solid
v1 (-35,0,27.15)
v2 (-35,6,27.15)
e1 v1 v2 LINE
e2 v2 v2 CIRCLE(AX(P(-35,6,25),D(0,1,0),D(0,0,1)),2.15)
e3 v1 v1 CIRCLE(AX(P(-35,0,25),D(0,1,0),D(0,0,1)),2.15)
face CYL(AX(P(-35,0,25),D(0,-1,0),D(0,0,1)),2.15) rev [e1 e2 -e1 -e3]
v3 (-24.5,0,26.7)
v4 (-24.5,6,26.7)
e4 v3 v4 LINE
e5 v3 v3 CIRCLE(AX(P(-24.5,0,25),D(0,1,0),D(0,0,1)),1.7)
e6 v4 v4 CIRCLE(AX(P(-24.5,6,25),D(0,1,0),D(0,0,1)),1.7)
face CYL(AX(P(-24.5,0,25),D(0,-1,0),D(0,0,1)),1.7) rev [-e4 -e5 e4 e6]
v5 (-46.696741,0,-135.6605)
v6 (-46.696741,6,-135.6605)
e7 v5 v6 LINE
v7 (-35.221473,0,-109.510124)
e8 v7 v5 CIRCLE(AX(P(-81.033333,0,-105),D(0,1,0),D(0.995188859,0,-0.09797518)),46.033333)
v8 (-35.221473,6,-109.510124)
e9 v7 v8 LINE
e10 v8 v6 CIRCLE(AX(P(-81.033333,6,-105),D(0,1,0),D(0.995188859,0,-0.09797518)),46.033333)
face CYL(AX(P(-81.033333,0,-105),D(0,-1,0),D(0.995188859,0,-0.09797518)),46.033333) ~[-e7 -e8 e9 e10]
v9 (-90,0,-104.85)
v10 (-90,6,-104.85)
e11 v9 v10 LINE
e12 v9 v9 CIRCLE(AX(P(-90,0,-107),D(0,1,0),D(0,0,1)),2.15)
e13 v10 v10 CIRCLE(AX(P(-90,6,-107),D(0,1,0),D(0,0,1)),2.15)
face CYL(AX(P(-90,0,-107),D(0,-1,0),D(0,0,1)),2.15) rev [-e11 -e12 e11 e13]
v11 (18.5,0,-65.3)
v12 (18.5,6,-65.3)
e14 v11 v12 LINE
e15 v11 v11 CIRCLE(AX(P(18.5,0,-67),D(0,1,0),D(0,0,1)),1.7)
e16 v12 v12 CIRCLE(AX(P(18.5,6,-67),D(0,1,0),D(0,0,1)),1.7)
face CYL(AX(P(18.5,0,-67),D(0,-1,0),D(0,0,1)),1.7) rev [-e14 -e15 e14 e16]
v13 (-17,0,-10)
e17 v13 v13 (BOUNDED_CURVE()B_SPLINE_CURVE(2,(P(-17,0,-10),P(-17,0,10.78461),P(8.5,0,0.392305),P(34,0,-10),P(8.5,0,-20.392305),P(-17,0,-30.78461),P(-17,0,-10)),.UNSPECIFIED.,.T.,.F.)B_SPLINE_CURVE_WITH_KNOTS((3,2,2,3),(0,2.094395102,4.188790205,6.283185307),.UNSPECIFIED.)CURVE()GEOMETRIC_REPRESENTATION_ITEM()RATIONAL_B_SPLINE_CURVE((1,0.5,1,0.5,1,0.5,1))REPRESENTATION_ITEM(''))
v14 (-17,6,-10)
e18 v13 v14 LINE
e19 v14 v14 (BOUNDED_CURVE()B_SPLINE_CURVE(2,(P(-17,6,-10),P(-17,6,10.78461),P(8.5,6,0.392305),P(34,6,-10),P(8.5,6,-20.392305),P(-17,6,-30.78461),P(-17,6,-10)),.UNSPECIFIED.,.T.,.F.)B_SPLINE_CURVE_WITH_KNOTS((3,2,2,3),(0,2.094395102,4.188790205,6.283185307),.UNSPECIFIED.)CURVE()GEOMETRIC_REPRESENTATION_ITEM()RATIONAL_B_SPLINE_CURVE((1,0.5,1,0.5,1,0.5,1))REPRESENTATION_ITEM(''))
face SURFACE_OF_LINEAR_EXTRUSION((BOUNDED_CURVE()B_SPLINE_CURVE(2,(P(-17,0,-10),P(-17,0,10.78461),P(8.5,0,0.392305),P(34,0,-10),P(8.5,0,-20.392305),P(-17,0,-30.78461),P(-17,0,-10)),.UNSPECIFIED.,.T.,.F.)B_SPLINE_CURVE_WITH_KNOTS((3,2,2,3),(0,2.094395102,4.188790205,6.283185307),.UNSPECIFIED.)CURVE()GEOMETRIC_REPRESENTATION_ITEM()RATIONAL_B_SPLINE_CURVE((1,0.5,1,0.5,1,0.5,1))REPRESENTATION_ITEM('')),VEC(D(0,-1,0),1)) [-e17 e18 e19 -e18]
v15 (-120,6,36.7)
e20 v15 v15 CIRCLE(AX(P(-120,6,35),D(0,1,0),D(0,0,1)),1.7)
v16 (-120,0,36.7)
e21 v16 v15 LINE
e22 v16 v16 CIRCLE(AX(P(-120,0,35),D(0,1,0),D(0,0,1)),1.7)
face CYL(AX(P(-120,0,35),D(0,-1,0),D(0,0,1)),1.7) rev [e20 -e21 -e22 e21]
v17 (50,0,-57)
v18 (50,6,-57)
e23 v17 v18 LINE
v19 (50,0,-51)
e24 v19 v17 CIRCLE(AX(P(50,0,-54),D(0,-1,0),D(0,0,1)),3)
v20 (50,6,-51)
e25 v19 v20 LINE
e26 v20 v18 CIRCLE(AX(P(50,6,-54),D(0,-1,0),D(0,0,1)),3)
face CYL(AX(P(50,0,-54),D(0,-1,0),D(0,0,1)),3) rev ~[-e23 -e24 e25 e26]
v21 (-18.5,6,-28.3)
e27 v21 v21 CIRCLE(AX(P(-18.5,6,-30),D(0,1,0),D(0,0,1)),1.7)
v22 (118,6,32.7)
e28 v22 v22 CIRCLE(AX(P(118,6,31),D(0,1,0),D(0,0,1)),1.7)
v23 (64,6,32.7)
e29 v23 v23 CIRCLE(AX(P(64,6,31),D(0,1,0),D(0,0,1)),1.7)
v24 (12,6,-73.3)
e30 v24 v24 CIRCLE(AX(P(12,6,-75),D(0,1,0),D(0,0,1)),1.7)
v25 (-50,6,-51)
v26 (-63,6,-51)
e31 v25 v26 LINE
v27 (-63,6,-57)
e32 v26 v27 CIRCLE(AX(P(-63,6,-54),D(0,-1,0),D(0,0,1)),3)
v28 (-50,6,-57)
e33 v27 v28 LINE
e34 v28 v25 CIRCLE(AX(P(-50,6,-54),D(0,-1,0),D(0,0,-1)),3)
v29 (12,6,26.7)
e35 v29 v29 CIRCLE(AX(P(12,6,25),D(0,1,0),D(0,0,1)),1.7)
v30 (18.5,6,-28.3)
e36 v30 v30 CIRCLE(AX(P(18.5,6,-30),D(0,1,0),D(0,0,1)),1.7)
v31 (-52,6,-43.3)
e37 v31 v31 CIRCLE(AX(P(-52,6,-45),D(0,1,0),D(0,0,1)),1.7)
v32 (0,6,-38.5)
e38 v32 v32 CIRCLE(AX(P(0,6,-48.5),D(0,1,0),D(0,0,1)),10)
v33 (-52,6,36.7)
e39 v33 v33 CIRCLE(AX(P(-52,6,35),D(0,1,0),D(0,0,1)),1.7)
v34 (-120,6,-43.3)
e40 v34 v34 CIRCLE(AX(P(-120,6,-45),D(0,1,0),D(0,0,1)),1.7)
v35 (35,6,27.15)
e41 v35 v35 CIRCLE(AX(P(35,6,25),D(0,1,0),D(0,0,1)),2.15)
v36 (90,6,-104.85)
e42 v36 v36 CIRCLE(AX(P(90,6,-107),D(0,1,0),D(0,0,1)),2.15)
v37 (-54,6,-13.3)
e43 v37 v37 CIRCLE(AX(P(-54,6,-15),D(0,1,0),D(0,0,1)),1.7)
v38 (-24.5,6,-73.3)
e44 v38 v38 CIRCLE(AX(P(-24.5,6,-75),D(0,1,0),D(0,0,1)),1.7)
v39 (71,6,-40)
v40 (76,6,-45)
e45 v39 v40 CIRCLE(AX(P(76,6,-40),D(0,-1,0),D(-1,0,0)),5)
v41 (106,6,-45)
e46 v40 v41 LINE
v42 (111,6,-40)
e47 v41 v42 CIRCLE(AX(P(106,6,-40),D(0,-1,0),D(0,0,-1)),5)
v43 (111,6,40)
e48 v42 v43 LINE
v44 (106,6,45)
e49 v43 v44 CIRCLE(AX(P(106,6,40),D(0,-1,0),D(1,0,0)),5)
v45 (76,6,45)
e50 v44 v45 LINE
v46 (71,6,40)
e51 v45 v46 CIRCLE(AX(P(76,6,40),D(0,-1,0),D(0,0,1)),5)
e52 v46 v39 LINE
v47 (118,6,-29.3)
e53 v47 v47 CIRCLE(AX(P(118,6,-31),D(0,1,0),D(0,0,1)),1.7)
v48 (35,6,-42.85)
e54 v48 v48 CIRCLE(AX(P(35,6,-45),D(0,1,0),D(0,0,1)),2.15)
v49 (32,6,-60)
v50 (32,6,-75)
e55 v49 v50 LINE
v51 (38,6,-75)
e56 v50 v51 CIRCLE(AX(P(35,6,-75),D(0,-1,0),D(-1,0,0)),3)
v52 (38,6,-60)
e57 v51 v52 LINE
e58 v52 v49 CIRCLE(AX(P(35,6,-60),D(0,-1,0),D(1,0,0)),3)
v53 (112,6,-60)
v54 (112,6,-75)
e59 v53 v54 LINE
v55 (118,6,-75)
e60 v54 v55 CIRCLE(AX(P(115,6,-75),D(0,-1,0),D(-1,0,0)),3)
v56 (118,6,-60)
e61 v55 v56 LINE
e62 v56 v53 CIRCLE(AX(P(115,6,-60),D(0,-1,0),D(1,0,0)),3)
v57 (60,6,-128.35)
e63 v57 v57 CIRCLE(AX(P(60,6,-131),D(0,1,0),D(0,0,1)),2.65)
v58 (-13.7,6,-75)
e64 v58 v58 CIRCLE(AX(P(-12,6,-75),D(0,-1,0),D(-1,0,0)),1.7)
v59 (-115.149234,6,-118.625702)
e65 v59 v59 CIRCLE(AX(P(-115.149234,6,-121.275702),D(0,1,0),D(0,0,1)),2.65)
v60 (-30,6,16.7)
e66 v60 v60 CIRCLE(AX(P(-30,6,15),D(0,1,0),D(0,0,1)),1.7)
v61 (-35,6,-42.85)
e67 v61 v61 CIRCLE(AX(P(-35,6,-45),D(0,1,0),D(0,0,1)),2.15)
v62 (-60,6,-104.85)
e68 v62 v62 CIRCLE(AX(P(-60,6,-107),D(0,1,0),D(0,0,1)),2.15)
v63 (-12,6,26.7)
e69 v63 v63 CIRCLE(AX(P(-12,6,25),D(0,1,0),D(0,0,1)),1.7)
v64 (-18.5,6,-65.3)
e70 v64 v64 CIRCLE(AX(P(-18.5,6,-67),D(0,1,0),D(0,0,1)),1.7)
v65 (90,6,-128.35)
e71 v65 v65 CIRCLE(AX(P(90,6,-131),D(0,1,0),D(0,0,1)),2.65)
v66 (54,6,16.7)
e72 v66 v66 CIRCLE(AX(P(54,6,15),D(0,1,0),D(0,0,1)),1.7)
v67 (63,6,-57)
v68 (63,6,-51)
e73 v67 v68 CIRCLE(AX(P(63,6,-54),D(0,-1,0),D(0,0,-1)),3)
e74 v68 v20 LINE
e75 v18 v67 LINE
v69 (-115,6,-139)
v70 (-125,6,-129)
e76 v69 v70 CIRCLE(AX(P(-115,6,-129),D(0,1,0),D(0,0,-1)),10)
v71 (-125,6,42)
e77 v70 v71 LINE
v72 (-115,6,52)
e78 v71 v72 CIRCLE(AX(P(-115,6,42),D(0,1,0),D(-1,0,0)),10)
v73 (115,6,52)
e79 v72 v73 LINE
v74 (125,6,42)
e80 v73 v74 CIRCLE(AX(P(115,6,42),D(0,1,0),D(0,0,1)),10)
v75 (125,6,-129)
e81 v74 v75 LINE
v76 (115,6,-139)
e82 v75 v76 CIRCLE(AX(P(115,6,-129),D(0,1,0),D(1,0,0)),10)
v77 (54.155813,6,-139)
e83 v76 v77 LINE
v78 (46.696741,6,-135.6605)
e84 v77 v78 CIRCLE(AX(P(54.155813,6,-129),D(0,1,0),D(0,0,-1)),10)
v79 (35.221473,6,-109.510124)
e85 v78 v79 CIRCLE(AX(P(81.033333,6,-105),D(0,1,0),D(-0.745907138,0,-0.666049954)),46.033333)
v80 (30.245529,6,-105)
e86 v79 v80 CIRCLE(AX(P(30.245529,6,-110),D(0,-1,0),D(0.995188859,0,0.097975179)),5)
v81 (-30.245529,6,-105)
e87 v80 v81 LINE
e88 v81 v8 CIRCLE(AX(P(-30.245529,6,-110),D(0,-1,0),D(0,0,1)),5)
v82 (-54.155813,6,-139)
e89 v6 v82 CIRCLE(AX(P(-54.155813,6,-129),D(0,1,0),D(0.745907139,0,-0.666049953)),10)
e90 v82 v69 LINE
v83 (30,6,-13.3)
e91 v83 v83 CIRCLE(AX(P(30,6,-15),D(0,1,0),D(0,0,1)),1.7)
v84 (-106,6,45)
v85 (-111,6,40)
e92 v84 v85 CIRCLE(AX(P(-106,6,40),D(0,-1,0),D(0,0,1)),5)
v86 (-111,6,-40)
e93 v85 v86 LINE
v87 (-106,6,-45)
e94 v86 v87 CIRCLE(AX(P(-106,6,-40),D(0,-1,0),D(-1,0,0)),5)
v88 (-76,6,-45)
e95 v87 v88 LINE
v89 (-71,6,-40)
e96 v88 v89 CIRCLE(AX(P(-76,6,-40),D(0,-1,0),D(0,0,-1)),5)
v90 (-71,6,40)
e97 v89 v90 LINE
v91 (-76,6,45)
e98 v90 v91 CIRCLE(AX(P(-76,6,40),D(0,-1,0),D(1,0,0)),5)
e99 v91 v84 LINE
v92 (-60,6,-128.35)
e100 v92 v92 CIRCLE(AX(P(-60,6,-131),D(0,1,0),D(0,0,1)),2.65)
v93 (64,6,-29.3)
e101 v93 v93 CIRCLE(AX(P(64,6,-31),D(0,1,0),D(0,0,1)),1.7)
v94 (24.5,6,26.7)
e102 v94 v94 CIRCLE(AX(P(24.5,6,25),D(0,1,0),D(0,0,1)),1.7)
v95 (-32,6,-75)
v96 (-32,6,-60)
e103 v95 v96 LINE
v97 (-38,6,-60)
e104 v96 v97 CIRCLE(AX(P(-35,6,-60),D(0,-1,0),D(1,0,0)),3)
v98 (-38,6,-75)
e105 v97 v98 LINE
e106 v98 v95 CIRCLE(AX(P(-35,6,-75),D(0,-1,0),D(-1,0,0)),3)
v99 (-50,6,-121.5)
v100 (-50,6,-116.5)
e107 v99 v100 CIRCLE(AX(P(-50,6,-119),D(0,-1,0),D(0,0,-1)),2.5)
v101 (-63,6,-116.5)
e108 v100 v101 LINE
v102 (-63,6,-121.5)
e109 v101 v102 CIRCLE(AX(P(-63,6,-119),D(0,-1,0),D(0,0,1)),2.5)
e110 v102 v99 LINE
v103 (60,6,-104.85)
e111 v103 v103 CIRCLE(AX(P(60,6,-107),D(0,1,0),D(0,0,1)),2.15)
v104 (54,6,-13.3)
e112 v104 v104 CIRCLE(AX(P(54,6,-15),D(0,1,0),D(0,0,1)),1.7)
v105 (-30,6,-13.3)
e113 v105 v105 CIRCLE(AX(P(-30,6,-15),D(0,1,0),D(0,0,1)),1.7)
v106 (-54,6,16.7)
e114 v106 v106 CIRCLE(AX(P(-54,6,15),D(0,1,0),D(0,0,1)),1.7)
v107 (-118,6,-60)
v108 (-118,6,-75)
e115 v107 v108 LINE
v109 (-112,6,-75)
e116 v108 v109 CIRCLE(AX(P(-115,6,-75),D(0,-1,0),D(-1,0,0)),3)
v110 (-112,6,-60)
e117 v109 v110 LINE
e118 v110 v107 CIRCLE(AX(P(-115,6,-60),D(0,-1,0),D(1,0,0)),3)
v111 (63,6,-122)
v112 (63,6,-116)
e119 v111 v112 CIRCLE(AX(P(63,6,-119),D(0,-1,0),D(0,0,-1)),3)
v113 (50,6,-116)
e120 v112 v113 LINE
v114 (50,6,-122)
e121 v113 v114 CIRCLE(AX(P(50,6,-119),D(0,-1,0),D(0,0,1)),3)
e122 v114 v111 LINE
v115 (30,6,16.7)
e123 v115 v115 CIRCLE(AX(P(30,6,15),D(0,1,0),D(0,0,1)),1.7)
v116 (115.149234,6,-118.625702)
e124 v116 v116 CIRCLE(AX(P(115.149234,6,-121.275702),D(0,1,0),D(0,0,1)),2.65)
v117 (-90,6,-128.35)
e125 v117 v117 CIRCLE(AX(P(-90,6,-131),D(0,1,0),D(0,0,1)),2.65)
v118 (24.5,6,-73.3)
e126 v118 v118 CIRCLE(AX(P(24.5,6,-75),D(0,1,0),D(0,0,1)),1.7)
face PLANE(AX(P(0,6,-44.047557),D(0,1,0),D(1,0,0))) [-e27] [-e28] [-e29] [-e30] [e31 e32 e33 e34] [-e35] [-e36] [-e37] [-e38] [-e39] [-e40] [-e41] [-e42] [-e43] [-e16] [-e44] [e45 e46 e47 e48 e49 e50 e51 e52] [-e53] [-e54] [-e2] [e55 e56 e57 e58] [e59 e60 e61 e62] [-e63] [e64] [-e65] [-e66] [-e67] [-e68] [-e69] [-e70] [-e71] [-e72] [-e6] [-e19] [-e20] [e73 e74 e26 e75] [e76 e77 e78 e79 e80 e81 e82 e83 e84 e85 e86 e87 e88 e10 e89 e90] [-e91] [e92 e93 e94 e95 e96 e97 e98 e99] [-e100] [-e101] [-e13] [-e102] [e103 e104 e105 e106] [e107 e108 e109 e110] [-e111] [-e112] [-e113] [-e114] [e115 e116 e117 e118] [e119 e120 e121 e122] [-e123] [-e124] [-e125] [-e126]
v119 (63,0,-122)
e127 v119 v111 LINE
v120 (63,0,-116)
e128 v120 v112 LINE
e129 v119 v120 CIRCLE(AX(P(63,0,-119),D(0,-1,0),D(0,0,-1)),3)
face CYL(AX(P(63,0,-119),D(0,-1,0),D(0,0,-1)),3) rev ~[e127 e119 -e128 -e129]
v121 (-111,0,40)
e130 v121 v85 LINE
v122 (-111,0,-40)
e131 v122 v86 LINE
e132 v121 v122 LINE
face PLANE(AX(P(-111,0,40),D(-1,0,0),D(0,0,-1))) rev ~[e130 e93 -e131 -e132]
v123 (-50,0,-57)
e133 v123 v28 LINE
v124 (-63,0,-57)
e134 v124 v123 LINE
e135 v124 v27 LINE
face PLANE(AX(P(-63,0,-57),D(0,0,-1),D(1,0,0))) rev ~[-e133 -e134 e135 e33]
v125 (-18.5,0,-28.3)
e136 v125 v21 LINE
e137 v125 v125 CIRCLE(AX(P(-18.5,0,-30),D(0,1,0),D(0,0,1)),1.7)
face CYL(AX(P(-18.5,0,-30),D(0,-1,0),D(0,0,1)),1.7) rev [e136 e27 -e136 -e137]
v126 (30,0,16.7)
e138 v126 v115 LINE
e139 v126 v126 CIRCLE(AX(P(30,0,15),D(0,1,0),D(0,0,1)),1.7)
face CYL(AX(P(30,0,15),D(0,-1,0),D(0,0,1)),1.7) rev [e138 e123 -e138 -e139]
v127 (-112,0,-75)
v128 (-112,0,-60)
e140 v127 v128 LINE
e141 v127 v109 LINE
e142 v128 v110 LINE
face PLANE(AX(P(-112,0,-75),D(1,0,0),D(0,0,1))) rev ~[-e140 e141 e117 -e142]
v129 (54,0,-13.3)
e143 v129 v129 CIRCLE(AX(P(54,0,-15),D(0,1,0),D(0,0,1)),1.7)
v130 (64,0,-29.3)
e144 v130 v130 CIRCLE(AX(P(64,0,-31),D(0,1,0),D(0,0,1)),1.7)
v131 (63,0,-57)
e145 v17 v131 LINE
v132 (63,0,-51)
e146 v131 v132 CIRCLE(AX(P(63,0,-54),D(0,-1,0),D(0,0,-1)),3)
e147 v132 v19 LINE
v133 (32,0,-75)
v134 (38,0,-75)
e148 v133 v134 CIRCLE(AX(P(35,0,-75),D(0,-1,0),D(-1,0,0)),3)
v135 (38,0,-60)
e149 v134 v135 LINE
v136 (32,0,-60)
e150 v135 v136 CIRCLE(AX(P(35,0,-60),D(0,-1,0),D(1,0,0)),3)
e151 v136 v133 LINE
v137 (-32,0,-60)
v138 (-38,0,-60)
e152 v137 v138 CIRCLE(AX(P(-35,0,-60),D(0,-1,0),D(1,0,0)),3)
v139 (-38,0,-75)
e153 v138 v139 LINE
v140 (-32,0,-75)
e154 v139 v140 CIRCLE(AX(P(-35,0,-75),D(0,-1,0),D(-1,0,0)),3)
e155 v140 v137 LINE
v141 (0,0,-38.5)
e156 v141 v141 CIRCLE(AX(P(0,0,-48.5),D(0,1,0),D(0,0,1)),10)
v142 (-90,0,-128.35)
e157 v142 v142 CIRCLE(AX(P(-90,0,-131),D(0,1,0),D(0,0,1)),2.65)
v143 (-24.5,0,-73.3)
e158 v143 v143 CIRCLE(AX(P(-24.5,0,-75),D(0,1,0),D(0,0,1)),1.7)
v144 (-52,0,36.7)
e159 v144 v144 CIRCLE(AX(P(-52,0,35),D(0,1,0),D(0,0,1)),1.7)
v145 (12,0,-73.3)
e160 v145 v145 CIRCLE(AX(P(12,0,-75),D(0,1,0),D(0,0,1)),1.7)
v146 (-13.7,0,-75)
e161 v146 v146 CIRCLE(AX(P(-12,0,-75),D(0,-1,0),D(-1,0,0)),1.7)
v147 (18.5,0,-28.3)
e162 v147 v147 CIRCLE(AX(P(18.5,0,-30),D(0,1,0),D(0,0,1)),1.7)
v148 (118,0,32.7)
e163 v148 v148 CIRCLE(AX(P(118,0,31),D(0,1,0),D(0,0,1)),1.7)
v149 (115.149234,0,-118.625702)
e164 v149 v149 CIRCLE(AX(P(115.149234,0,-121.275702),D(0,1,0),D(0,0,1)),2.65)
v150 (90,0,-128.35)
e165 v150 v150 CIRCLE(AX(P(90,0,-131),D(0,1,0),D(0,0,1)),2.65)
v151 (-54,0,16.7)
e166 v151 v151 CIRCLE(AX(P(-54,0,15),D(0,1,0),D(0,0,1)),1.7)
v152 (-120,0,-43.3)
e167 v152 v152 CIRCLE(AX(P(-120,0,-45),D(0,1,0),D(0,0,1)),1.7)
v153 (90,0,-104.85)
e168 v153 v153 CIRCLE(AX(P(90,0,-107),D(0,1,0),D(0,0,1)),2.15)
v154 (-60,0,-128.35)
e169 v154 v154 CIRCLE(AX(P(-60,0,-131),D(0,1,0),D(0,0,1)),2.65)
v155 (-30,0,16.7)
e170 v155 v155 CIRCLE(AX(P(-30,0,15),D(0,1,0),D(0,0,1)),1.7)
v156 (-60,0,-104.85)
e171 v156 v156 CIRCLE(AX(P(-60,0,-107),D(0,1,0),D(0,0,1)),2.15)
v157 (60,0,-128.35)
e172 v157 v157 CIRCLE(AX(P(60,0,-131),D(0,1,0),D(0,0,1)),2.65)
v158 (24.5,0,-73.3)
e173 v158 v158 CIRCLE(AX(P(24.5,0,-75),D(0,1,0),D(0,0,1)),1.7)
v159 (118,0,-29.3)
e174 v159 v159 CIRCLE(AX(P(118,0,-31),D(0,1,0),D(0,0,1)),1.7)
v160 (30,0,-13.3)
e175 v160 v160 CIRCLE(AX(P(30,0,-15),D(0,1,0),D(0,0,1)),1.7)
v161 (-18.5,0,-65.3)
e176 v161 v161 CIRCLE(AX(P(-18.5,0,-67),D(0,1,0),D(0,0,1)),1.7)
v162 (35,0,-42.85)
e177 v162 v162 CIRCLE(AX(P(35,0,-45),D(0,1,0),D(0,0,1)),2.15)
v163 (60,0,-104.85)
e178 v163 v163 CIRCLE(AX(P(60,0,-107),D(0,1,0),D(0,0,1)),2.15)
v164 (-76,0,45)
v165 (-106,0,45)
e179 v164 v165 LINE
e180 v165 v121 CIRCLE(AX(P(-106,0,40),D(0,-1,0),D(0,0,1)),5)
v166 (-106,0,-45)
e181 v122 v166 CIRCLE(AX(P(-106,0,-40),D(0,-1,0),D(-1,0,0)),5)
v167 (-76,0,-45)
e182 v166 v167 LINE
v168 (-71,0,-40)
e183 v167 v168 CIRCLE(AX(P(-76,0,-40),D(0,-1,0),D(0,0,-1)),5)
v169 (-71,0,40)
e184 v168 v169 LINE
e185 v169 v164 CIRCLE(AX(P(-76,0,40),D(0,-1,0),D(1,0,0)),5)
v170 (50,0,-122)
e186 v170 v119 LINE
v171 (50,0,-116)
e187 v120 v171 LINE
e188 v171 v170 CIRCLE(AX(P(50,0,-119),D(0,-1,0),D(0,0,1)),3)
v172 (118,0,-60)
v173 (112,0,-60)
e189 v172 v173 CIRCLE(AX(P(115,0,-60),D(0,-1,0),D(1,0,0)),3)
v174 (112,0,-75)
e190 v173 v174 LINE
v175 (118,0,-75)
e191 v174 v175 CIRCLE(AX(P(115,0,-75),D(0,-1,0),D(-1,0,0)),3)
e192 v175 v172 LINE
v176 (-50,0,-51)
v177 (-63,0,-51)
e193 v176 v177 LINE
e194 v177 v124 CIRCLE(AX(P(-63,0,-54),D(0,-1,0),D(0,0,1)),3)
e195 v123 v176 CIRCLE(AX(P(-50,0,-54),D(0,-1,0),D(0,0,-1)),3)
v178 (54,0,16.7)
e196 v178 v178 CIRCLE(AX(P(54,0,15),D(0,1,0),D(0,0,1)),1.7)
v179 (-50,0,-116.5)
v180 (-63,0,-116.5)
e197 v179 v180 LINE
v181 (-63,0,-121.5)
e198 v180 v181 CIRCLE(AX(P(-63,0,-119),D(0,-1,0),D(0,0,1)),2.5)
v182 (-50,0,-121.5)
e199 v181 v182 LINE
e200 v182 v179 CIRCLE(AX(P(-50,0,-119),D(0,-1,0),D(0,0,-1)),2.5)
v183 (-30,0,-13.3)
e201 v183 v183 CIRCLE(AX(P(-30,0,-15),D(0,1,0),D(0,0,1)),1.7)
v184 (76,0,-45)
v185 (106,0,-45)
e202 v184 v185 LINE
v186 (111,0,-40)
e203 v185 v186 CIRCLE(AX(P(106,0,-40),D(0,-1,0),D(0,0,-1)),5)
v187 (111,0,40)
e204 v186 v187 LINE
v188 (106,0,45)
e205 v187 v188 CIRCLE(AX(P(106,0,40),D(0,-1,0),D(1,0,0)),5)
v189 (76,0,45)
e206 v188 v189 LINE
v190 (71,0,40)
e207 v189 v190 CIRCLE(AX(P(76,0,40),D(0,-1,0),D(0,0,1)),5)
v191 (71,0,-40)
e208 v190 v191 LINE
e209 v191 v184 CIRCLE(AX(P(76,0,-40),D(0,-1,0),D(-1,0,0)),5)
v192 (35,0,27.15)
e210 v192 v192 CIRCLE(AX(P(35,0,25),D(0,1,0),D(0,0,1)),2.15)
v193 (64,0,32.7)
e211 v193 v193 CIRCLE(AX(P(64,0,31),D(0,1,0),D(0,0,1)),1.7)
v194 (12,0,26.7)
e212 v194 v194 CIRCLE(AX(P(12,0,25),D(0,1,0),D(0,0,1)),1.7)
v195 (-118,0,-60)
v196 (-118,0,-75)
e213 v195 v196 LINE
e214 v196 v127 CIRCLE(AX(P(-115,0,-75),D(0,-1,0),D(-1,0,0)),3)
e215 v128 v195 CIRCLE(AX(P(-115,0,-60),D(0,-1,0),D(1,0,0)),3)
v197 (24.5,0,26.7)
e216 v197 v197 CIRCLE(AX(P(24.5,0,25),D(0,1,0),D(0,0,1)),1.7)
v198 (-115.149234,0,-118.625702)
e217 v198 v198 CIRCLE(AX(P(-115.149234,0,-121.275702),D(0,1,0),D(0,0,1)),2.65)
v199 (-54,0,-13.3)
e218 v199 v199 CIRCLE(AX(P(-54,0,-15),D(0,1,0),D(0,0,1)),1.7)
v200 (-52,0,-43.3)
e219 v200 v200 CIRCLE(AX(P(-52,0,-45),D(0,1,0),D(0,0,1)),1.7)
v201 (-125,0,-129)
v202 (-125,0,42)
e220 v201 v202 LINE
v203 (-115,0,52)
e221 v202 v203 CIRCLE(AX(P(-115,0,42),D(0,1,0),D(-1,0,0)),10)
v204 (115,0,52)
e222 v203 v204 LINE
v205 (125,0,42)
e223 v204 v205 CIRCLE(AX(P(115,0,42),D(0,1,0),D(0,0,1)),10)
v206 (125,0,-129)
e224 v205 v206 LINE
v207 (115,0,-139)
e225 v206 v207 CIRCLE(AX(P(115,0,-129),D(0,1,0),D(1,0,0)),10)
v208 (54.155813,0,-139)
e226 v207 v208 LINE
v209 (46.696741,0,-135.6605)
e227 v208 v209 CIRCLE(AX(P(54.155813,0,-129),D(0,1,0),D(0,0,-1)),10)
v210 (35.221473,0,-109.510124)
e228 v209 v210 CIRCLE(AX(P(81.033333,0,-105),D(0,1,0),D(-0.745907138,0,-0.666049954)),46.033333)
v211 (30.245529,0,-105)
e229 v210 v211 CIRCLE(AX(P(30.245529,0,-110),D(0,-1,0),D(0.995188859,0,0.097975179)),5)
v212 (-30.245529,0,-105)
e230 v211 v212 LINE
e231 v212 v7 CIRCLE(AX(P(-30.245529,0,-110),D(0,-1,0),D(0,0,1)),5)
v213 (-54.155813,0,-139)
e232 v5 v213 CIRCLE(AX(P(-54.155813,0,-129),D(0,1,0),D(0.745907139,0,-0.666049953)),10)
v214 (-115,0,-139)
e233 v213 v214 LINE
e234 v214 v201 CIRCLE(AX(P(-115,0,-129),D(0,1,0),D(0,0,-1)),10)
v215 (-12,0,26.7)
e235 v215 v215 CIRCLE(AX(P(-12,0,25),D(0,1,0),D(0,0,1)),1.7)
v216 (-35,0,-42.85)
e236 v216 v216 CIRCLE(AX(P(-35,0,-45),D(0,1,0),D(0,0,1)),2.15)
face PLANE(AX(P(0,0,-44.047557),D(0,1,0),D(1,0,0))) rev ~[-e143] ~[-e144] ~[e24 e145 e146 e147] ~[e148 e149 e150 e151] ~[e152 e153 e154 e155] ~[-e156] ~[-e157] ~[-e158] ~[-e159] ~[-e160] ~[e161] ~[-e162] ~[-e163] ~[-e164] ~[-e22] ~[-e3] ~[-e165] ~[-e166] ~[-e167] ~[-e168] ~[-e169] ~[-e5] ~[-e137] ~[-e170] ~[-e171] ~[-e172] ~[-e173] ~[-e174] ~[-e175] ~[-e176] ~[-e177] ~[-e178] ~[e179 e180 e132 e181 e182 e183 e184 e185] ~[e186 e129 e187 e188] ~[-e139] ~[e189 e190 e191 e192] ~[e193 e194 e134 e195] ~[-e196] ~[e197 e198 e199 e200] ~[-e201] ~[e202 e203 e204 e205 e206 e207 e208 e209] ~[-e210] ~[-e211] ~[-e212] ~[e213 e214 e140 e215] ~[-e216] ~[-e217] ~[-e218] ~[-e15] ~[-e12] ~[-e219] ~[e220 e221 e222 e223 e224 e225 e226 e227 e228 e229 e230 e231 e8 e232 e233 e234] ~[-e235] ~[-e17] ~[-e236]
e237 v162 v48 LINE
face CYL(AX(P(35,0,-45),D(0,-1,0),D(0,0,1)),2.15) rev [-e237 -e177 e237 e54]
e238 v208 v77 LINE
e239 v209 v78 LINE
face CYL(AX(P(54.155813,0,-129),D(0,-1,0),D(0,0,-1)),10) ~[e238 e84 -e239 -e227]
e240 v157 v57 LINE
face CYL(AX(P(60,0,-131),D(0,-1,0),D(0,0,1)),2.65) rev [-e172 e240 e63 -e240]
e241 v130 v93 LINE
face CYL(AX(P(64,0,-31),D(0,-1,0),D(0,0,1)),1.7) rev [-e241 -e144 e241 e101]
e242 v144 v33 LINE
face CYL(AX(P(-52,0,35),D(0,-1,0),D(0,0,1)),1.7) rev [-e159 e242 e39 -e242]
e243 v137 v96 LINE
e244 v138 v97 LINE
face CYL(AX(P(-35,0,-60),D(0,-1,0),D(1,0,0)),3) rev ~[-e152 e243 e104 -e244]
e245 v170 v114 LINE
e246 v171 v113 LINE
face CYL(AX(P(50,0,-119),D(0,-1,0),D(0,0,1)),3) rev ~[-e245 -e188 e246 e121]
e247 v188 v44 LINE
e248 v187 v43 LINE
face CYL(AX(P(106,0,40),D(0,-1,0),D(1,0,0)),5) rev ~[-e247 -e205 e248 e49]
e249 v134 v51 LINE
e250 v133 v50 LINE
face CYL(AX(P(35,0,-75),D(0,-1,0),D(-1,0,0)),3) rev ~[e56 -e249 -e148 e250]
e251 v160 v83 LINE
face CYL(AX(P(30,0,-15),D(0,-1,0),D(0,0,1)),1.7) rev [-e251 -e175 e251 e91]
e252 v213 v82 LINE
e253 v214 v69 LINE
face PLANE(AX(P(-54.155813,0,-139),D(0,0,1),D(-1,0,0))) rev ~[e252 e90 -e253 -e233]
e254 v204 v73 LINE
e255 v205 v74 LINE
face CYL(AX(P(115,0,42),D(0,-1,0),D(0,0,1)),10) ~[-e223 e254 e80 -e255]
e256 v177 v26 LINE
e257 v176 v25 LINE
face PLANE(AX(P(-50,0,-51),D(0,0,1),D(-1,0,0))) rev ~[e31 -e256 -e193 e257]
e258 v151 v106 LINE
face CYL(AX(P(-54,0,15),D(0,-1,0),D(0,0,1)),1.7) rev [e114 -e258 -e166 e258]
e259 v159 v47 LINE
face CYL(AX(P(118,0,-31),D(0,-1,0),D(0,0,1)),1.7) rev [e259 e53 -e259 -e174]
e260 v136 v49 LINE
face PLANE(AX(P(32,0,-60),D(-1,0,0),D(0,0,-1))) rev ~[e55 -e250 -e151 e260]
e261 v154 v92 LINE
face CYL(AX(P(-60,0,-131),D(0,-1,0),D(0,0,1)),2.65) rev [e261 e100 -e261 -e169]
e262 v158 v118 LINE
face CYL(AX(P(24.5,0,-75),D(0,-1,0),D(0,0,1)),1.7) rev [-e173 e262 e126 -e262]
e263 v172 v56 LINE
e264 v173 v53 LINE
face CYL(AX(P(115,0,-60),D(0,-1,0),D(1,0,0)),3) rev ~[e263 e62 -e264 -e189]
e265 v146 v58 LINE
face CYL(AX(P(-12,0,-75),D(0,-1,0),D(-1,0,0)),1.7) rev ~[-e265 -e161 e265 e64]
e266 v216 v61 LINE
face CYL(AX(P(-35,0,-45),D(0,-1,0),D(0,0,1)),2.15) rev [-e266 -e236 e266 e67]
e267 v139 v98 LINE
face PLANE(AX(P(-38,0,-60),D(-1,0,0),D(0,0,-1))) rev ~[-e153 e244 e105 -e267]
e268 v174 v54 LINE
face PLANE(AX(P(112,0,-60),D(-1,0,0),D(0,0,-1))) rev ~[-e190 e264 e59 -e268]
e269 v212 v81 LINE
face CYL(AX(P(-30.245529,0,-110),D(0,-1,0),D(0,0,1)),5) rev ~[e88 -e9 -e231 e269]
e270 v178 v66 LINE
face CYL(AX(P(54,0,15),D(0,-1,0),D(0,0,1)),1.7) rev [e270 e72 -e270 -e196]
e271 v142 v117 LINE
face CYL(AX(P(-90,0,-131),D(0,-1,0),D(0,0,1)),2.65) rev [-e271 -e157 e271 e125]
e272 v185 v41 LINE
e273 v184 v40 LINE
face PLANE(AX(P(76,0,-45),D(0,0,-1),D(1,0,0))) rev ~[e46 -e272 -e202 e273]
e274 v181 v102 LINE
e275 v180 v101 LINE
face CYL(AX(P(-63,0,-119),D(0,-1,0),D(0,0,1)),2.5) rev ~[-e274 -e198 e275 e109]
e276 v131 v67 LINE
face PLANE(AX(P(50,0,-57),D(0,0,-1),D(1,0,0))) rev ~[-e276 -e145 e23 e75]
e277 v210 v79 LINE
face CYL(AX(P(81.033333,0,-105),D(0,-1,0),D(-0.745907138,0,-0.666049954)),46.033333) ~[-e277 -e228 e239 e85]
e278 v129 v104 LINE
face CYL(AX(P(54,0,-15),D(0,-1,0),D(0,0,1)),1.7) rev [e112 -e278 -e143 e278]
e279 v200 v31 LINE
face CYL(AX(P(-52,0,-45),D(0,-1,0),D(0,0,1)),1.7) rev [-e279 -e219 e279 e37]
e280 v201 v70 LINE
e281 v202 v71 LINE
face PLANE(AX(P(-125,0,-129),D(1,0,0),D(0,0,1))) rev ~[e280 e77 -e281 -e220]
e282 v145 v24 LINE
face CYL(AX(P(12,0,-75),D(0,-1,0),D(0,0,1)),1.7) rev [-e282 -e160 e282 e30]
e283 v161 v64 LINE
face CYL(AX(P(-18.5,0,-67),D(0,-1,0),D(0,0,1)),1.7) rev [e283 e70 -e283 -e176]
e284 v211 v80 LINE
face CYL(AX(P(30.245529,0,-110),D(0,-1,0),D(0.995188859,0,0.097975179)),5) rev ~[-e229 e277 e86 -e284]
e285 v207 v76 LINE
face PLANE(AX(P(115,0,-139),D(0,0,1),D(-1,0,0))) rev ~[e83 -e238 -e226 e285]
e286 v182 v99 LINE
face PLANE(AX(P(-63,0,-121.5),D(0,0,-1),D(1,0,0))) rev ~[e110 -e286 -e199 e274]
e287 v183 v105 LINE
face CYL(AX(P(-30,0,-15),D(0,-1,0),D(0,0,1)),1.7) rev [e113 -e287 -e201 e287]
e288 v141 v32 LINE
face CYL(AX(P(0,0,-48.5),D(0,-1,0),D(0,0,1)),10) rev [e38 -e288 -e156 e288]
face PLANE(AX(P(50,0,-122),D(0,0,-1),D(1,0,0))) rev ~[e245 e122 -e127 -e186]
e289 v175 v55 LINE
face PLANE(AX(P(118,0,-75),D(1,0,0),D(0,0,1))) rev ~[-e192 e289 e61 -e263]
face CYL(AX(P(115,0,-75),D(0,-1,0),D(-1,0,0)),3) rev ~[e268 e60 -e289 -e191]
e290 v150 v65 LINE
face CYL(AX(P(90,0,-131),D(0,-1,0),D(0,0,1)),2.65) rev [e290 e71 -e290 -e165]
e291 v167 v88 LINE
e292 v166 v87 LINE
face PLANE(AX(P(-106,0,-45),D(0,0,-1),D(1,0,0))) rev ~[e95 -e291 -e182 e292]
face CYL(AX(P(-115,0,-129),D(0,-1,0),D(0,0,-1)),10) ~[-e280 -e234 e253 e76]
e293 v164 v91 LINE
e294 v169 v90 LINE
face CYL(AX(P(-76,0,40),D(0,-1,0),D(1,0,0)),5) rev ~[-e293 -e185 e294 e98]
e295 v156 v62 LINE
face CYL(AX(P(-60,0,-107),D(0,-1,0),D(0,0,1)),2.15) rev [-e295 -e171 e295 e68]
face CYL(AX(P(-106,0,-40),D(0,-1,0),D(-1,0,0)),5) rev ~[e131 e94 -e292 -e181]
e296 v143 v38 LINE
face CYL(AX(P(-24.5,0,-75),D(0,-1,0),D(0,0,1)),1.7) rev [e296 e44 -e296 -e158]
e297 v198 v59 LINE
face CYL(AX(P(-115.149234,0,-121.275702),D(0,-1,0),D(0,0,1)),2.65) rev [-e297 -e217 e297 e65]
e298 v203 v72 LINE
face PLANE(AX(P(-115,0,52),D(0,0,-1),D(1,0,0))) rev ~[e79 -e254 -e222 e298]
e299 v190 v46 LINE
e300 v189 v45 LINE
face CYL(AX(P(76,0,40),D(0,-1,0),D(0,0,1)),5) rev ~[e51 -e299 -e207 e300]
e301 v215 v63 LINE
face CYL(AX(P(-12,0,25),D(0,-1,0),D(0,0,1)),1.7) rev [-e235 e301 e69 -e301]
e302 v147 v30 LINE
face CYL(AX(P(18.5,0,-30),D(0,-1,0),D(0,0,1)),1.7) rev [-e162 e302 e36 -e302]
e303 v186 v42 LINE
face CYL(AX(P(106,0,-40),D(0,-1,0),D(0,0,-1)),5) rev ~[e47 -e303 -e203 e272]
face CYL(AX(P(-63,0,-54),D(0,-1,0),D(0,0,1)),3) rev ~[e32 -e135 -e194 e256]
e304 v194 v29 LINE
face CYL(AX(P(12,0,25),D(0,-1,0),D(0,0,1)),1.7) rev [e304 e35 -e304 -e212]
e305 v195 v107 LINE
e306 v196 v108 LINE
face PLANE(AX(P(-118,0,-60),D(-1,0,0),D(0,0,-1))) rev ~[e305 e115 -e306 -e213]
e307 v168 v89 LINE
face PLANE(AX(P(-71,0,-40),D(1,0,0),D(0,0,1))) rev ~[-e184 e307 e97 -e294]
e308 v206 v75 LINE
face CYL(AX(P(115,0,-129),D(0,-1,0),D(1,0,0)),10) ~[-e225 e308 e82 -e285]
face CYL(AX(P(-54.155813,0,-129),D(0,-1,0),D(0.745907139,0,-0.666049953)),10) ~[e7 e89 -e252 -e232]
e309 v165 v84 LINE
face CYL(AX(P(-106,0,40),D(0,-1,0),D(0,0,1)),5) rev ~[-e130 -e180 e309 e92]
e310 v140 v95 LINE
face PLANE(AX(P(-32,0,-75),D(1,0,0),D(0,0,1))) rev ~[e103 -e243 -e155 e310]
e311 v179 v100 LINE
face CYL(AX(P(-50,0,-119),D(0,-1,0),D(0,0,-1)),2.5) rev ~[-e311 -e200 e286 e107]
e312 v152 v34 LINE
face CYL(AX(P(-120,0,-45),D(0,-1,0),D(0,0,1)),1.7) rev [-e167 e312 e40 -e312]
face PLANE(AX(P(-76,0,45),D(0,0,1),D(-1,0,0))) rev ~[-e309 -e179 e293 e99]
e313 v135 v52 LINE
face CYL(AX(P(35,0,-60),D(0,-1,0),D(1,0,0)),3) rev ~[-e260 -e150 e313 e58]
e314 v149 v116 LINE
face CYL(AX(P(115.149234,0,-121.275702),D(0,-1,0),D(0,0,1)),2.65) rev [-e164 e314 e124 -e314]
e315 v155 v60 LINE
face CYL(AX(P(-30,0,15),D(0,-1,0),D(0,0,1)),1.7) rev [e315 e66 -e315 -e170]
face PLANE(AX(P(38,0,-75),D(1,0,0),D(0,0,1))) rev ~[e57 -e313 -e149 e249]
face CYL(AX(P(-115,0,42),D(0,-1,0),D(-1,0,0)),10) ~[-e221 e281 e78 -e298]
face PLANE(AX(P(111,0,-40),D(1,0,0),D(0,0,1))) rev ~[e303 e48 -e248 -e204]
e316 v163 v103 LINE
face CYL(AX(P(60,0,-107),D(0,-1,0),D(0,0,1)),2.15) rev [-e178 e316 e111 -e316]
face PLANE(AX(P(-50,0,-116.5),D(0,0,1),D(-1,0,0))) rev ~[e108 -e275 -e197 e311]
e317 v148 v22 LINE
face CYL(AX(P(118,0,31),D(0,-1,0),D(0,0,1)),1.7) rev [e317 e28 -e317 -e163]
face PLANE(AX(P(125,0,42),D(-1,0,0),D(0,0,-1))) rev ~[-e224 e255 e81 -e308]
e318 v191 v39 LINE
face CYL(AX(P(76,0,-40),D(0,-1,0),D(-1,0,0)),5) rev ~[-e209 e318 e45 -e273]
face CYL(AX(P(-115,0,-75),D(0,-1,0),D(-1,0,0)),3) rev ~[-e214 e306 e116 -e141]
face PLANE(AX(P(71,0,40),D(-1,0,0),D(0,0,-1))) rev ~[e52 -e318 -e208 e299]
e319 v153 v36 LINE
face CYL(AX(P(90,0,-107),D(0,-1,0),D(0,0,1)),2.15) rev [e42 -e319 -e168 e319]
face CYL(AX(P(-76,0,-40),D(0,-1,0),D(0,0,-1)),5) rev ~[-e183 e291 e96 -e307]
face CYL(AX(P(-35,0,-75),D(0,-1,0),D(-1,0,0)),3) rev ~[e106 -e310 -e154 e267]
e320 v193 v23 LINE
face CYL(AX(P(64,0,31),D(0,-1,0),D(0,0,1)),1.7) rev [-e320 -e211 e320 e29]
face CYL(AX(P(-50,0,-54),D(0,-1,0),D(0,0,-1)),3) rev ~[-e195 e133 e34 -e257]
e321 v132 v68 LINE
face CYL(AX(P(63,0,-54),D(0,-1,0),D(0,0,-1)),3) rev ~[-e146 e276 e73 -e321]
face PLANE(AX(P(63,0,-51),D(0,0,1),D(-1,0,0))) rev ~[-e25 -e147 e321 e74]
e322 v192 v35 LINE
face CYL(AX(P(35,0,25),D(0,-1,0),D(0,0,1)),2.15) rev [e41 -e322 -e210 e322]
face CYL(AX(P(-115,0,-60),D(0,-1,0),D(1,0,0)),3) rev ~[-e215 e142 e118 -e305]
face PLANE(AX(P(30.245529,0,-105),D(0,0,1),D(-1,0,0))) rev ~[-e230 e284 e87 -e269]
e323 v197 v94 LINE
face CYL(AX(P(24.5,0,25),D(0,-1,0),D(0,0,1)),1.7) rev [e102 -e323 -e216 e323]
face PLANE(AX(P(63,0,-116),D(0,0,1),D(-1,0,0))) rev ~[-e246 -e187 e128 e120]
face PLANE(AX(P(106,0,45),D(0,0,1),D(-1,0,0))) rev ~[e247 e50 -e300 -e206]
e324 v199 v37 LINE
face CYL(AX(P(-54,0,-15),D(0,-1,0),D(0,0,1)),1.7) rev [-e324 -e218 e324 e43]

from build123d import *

# Parameters (mm, degrees)
SKETCH_1_R      = 1.7
SKETCH_1_R_2    = 2.15
SKETCH_1_R_3    = 2.65
SKETCH_1_R_4    = 10
EXTRUDE_2_DEPTH = 6


with BuildPart() as part:
    # 草图1 → 凸台-拉伸2 (new body)
    with BuildSketch(Plane(origin=(0, 0, 0), x_dir=(1, 0, 0), z_dir=(0, 1, 0))):
        with BuildLine():
            ThreePointArc((-125, -42), (-122.071067812, -49.071067812), (-115, -52))
            Line((-115, -52), (115, -52))
            ThreePointArc((115, -52), (122.071067812, -49.071067812), (125, -42))
            Line((125, -42), (125, 129))
            ThreePointArc((125, 129), (122.071067812, 136.071067812), (115, 139))
            Line((115, 139), (54.15581278, 139))
            ThreePointArc((54.15581278, 139), (50.06955504, 138.127020198), (46.696741396, 135.660499537))
            ThreePointArc((46.696741396, 135.660499537), (38.879992551, 123.497665763), (35.221472878, 109.510124102))
            ThreePointArc((35.221472878, 109.510124102), (33.603401462, 106.295315162), (30.245528585, 105))
            Line((30.245528585, 105), (-30.245528585, 105))
            ThreePointArc((-30.245528585, 105), (-33.603401462, 106.295315162), (-35.221472878, 109.510124102))
            ThreePointArc((-35.221472878, 109.510124102), (-38.879992551, 123.497665763), (-46.696741396, 135.660499537))
            ThreePointArc((-46.696741396, 135.660499537), (-50.06955504, 138.127020198), (-54.15581278, 139))
            Line((-54.15581278, 139), (-115, 139))
            ThreePointArc((-115, 139), (-122.071067812, 136.071067812), (-125, 129))
            Line((-125, 129), (-125, -42))
        make_face()
        with Locations(Location((-120, -35, 0), (0, 0, 270))):
            Circle(SKETCH_1_R, mode=Mode.SUBTRACT)
        with Locations(Location((-52, -35, 0), (0, 0, 270))):
            Circle(SKETCH_1_R, mode=Mode.SUBTRACT)
        with Locations(Location((-35, -25, 0), (0, 0, 270))):
            Circle(SKETCH_1_R_2, mode=Mode.SUBTRACT)
        with Locations(Location((-24.5, -25, 0), (0, 0, 270))):
            Circle(SKETCH_1_R, mode=Mode.SUBTRACT)
        with Locations(Location((-12, -25, 0), (0, 0, 270))):
            Circle(SKETCH_1_R, mode=Mode.SUBTRACT)
        with Locations(Location((-54, -15, 0), (0, 0, 270))):
            Circle(SKETCH_1_R, mode=Mode.SUBTRACT)
        with Locations(Location((-30, -15, 0), (0, 0, 270))):
            Circle(SKETCH_1_R, mode=Mode.SUBTRACT)
        with BuildLine():
            ThreePointArc((-76, 45), (-72.464466094, 43.535533906), (-71, 40))
            Line((-71, 40), (-71, -40))
            ThreePointArc((-71, -40), (-72.464466094, -43.535533906), (-76, -45))
            Line((-76, -45), (-106, -45))
            ThreePointArc((-106, -45), (-109.535533906, -43.535533906), (-111, -40))
            Line((-111, -40), (-111, 40))
            ThreePointArc((-111, 40), (-109.535533906, 43.535533906), (-106, 45))
            Line((-106, 45), (-76, 45))
        make_face(mode=Mode.SUBTRACT)
        with Locations(Location((-54, 15, 0), (0, 0, 270))):
            Circle(SKETCH_1_R, mode=Mode.SUBTRACT)
        with Locations(Location((-30, 15, 0), (0, 0, 270))):
            Circle(SKETCH_1_R, mode=Mode.SUBTRACT)
        with Locations(Location((-18.5, 30, 0), (0, 0, 270))):
            Circle(SKETCH_1_R, mode=Mode.SUBTRACT)
        with Locations(Location((12, -25, 0), (0, 0, 270))):
            Circle(SKETCH_1_R, mode=Mode.SUBTRACT)
        with Locations(Location((24.5, -25, 0), (0, 0, 270))):
            Circle(SKETCH_1_R, mode=Mode.SUBTRACT)
        with Locations(Location((35, -25, 0), (0, 0, 270))):
            Circle(SKETCH_1_R_2, mode=Mode.SUBTRACT)
        with Locations(Location((30, -15, 0), (0, 0, 270))):
            Circle(SKETCH_1_R, mode=Mode.SUBTRACT)
        with Locations(Location((54, -15, 0), (0, 0, 270))):
            Circle(SKETCH_1_R, mode=Mode.SUBTRACT)
        with Locations(Location((64, -31, 0), (0, 0, 270))):
            Circle(SKETCH_1_R, mode=Mode.SUBTRACT)
        with Locations(Location((118, -31, 0), (0, 0, 270))):
            Circle(SKETCH_1_R, mode=Mode.SUBTRACT)
        with BuildLine():
            add(Edge.make_bspline(
                [(-17, 10), (-17, -10.784609691), (8.5, -0.392304845), (34, 10), (8.5, 20.392304845), (-17, 30.784609691), (-17, 10)],
                knots=[0, 0, 0, 2.094395102, 2.094395102, 4.188790205, 4.188790205, 6.283185307, 6.283185307, 6.283185307], degree=2, weights=[1, 0.5, 1, 0.5, 1, 0.5, 1]))
        make_face(mode=Mode.SUBTRACT)
        with Locations(Location((30, 15, 0), (0, 0, 270))):
            Circle(SKETCH_1_R, mode=Mode.SUBTRACT)
        with Locations(Location((54, 15, 0), (0, 0, 270))):
            Circle(SKETCH_1_R, mode=Mode.SUBTRACT)
        with Locations(Location((18.5, 30, 0), (0, 0, 270))):
            Circle(SKETCH_1_R, mode=Mode.SUBTRACT)
        with BuildLine():
            ThreePointArc((76, -45), (72.464466094, -43.535533906), (71, -40))
            Line((71, -40), (71, 40))
            ThreePointArc((71, 40), (72.464466094, 43.535533906), (76, 45))
            Line((76, 45), (106, 45))
            ThreePointArc((106, 45), (109.535533906, 43.535533906), (111, 40))
            Line((111, 40), (111, -40))
            ThreePointArc((111, -40), (109.535533906, -43.535533906), (106, -45))
            Line((106, -45), (76, -45))
        make_face(mode=Mode.SUBTRACT)
        with Locations(Location((64, 31, 0), (0, 0, 270))):
            Circle(SKETCH_1_R, mode=Mode.SUBTRACT)
        with Locations(Location((118, 31, 0), (0, 0, 270))):
            Circle(SKETCH_1_R, mode=Mode.SUBTRACT)
        with Locations(Location((-120, 45, 0), (0, 0, 270))):
            Circle(SKETCH_1_R, mode=Mode.SUBTRACT)
        with BuildLine():
            ThreePointArc((-118, 75), (-115, 78), (-112, 75))
            Line((-112, 75), (-112, 60))
            ThreePointArc((-112, 60), (-115, 57), (-118, 60))
            Line((-118, 60), (-118, 75))
        make_face(mode=Mode.SUBTRACT)
        with Locations(Location((-52, 45, 0), (0, 0, 270))):
            Circle(SKETCH_1_R, mode=Mode.SUBTRACT)
        with BuildLine():
            ThreePointArc((-63, 51), (-66, 54), (-63, 57))
            Line((-63, 57), (-50, 57))
            ThreePointArc((-50, 57), (-47, 54), (-50, 51))
            Line((-50, 51), (-63, 51))
        make_face(mode=Mode.SUBTRACT)
        with Locations(Location((-35, 45, 0), (0, 0, 270))):
            Circle(SKETCH_1_R_2, mode=Mode.SUBTRACT)
        with BuildLine():
            ThreePointArc((-32, 60), (-35, 57), (-38, 60))
            Line((-38, 60), (-38, 75))
            ThreePointArc((-38, 75), (-35, 78), (-32, 75))
            Line((-32, 75), (-32, 60))
        make_face(mode=Mode.SUBTRACT)
        with Locations(Location((-18.5, 67, 0), (0, 0, 270))):
            Circle(SKETCH_1_R, mode=Mode.SUBTRACT)
        with Locations(Location((-24.5, 75, 0), (0, 0, 270))):
            Circle(SKETCH_1_R, mode=Mode.SUBTRACT)
        with BuildLine():
            ThreePointArc((-10.3, 75), (-12, 73.3), (-13.7, 75))
            ThreePointArc((-13.7, 75), (-12, 76.7), (-10.3, 75))
        make_face(mode=Mode.SUBTRACT)
        with Locations(Location((-115.149234169, 121.275702051, 0), (0, 0, 270))):
            Circle(SKETCH_1_R_3, mode=Mode.SUBTRACT)
        with Locations(Location((-90, 131, 0), (0, 0, 270))):
            Circle(SKETCH_1_R_3, mode=Mode.SUBTRACT)
        with Locations(Location((-60, 131, 0), (0, 0, 270))):
            Circle(SKETCH_1_R_3, mode=Mode.SUBTRACT)
        with Locations(Location((-90, 107, 0), (0, 0, 270))):
            Circle(SKETCH_1_R_2, mode=Mode.SUBTRACT)
        with BuildLine():
            ThreePointArc((-50, 121.5), (-47.5, 119), (-50, 116.5))
            Line((-50, 116.5), (-63, 116.5))
            ThreePointArc((-63, 116.5), (-65.5, 119), (-63, 121.5))
            Line((-63, 121.5), (-50, 121.5))
        make_face(mode=Mode.SUBTRACT)
        with Locations(Location((-60, 107, 0), (0, 0, 270))):
            Circle(SKETCH_1_R_2, mode=Mode.SUBTRACT)
        with Locations(Location((0, 48.5, 0), (0, 0, 270))):
            Circle(SKETCH_1_R_4, mode=Mode.SUBTRACT)
        with Locations(Location((35, 45, 0), (0, 0, 270))):
            Circle(SKETCH_1_R_2, mode=Mode.SUBTRACT)
        with BuildLine():
            ThreePointArc((50, 51), (47, 54), (50, 57))
            Line((50, 57), (63, 57))
            ThreePointArc((63, 57), (66, 54), (63, 51))
            Line((63, 51), (50, 51))
        make_face(mode=Mode.SUBTRACT)
        with Locations(Location((12, 75, 0), (0, 0, 270))):
            Circle(SKETCH_1_R, mode=Mode.SUBTRACT)
        with Locations(Location((18.5, 67, 0), (0, 0, 270))):
            Circle(SKETCH_1_R, mode=Mode.SUBTRACT)
        with Locations(Location((24.5, 75, 0), (0, 0, 270))):
            Circle(SKETCH_1_R, mode=Mode.SUBTRACT)
        with BuildLine():
            Line((38, 75), (38, 60))
            ThreePointArc((38, 60), (35, 57), (32, 60))
            Line((32, 60), (32, 75))
            ThreePointArc((32, 75), (35, 78), (38, 75))
        make_face(mode=Mode.SUBTRACT)
        with BuildLine():
            Line((118, 75), (118, 60))
            ThreePointArc((118, 60), (115, 57), (112, 60))
            Line((112, 60), (112, 75))
            ThreePointArc((112, 75), (115, 78), (118, 75))
        make_face(mode=Mode.SUBTRACT)
        with BuildLine():
            ThreePointArc((63, 122), (66, 119), (63, 116))
            Line((63, 116), (50, 116))
            ThreePointArc((50, 116), (47, 119), (50, 122))
            Line((50, 122), (63, 122))
        make_face(mode=Mode.SUBTRACT)
        with Locations(Location((60, 107, 0), (0, 0, 270))):
            Circle(SKETCH_1_R_2, mode=Mode.SUBTRACT)
        with Locations(Location((90, 107, 0), (0, 0, 270))):
            Circle(SKETCH_1_R_2, mode=Mode.SUBTRACT)
        with Locations(Location((60, 131, 0), (0, 0, 270))):
            Circle(SKETCH_1_R_3, mode=Mode.SUBTRACT)
        with Locations(Location((115.149234169, 121.275702051, 0), (0, 0, 270))):
            Circle(SKETCH_1_R_3, mode=Mode.SUBTRACT)
        with Locations(Location((90, 131, 0), (0, 0, 270))):
            Circle(SKETCH_1_R_3, mode=Mode.SUBTRACT)
    extrude(amount=EXTRUDE_2_DEPTH)


solid = part.part
